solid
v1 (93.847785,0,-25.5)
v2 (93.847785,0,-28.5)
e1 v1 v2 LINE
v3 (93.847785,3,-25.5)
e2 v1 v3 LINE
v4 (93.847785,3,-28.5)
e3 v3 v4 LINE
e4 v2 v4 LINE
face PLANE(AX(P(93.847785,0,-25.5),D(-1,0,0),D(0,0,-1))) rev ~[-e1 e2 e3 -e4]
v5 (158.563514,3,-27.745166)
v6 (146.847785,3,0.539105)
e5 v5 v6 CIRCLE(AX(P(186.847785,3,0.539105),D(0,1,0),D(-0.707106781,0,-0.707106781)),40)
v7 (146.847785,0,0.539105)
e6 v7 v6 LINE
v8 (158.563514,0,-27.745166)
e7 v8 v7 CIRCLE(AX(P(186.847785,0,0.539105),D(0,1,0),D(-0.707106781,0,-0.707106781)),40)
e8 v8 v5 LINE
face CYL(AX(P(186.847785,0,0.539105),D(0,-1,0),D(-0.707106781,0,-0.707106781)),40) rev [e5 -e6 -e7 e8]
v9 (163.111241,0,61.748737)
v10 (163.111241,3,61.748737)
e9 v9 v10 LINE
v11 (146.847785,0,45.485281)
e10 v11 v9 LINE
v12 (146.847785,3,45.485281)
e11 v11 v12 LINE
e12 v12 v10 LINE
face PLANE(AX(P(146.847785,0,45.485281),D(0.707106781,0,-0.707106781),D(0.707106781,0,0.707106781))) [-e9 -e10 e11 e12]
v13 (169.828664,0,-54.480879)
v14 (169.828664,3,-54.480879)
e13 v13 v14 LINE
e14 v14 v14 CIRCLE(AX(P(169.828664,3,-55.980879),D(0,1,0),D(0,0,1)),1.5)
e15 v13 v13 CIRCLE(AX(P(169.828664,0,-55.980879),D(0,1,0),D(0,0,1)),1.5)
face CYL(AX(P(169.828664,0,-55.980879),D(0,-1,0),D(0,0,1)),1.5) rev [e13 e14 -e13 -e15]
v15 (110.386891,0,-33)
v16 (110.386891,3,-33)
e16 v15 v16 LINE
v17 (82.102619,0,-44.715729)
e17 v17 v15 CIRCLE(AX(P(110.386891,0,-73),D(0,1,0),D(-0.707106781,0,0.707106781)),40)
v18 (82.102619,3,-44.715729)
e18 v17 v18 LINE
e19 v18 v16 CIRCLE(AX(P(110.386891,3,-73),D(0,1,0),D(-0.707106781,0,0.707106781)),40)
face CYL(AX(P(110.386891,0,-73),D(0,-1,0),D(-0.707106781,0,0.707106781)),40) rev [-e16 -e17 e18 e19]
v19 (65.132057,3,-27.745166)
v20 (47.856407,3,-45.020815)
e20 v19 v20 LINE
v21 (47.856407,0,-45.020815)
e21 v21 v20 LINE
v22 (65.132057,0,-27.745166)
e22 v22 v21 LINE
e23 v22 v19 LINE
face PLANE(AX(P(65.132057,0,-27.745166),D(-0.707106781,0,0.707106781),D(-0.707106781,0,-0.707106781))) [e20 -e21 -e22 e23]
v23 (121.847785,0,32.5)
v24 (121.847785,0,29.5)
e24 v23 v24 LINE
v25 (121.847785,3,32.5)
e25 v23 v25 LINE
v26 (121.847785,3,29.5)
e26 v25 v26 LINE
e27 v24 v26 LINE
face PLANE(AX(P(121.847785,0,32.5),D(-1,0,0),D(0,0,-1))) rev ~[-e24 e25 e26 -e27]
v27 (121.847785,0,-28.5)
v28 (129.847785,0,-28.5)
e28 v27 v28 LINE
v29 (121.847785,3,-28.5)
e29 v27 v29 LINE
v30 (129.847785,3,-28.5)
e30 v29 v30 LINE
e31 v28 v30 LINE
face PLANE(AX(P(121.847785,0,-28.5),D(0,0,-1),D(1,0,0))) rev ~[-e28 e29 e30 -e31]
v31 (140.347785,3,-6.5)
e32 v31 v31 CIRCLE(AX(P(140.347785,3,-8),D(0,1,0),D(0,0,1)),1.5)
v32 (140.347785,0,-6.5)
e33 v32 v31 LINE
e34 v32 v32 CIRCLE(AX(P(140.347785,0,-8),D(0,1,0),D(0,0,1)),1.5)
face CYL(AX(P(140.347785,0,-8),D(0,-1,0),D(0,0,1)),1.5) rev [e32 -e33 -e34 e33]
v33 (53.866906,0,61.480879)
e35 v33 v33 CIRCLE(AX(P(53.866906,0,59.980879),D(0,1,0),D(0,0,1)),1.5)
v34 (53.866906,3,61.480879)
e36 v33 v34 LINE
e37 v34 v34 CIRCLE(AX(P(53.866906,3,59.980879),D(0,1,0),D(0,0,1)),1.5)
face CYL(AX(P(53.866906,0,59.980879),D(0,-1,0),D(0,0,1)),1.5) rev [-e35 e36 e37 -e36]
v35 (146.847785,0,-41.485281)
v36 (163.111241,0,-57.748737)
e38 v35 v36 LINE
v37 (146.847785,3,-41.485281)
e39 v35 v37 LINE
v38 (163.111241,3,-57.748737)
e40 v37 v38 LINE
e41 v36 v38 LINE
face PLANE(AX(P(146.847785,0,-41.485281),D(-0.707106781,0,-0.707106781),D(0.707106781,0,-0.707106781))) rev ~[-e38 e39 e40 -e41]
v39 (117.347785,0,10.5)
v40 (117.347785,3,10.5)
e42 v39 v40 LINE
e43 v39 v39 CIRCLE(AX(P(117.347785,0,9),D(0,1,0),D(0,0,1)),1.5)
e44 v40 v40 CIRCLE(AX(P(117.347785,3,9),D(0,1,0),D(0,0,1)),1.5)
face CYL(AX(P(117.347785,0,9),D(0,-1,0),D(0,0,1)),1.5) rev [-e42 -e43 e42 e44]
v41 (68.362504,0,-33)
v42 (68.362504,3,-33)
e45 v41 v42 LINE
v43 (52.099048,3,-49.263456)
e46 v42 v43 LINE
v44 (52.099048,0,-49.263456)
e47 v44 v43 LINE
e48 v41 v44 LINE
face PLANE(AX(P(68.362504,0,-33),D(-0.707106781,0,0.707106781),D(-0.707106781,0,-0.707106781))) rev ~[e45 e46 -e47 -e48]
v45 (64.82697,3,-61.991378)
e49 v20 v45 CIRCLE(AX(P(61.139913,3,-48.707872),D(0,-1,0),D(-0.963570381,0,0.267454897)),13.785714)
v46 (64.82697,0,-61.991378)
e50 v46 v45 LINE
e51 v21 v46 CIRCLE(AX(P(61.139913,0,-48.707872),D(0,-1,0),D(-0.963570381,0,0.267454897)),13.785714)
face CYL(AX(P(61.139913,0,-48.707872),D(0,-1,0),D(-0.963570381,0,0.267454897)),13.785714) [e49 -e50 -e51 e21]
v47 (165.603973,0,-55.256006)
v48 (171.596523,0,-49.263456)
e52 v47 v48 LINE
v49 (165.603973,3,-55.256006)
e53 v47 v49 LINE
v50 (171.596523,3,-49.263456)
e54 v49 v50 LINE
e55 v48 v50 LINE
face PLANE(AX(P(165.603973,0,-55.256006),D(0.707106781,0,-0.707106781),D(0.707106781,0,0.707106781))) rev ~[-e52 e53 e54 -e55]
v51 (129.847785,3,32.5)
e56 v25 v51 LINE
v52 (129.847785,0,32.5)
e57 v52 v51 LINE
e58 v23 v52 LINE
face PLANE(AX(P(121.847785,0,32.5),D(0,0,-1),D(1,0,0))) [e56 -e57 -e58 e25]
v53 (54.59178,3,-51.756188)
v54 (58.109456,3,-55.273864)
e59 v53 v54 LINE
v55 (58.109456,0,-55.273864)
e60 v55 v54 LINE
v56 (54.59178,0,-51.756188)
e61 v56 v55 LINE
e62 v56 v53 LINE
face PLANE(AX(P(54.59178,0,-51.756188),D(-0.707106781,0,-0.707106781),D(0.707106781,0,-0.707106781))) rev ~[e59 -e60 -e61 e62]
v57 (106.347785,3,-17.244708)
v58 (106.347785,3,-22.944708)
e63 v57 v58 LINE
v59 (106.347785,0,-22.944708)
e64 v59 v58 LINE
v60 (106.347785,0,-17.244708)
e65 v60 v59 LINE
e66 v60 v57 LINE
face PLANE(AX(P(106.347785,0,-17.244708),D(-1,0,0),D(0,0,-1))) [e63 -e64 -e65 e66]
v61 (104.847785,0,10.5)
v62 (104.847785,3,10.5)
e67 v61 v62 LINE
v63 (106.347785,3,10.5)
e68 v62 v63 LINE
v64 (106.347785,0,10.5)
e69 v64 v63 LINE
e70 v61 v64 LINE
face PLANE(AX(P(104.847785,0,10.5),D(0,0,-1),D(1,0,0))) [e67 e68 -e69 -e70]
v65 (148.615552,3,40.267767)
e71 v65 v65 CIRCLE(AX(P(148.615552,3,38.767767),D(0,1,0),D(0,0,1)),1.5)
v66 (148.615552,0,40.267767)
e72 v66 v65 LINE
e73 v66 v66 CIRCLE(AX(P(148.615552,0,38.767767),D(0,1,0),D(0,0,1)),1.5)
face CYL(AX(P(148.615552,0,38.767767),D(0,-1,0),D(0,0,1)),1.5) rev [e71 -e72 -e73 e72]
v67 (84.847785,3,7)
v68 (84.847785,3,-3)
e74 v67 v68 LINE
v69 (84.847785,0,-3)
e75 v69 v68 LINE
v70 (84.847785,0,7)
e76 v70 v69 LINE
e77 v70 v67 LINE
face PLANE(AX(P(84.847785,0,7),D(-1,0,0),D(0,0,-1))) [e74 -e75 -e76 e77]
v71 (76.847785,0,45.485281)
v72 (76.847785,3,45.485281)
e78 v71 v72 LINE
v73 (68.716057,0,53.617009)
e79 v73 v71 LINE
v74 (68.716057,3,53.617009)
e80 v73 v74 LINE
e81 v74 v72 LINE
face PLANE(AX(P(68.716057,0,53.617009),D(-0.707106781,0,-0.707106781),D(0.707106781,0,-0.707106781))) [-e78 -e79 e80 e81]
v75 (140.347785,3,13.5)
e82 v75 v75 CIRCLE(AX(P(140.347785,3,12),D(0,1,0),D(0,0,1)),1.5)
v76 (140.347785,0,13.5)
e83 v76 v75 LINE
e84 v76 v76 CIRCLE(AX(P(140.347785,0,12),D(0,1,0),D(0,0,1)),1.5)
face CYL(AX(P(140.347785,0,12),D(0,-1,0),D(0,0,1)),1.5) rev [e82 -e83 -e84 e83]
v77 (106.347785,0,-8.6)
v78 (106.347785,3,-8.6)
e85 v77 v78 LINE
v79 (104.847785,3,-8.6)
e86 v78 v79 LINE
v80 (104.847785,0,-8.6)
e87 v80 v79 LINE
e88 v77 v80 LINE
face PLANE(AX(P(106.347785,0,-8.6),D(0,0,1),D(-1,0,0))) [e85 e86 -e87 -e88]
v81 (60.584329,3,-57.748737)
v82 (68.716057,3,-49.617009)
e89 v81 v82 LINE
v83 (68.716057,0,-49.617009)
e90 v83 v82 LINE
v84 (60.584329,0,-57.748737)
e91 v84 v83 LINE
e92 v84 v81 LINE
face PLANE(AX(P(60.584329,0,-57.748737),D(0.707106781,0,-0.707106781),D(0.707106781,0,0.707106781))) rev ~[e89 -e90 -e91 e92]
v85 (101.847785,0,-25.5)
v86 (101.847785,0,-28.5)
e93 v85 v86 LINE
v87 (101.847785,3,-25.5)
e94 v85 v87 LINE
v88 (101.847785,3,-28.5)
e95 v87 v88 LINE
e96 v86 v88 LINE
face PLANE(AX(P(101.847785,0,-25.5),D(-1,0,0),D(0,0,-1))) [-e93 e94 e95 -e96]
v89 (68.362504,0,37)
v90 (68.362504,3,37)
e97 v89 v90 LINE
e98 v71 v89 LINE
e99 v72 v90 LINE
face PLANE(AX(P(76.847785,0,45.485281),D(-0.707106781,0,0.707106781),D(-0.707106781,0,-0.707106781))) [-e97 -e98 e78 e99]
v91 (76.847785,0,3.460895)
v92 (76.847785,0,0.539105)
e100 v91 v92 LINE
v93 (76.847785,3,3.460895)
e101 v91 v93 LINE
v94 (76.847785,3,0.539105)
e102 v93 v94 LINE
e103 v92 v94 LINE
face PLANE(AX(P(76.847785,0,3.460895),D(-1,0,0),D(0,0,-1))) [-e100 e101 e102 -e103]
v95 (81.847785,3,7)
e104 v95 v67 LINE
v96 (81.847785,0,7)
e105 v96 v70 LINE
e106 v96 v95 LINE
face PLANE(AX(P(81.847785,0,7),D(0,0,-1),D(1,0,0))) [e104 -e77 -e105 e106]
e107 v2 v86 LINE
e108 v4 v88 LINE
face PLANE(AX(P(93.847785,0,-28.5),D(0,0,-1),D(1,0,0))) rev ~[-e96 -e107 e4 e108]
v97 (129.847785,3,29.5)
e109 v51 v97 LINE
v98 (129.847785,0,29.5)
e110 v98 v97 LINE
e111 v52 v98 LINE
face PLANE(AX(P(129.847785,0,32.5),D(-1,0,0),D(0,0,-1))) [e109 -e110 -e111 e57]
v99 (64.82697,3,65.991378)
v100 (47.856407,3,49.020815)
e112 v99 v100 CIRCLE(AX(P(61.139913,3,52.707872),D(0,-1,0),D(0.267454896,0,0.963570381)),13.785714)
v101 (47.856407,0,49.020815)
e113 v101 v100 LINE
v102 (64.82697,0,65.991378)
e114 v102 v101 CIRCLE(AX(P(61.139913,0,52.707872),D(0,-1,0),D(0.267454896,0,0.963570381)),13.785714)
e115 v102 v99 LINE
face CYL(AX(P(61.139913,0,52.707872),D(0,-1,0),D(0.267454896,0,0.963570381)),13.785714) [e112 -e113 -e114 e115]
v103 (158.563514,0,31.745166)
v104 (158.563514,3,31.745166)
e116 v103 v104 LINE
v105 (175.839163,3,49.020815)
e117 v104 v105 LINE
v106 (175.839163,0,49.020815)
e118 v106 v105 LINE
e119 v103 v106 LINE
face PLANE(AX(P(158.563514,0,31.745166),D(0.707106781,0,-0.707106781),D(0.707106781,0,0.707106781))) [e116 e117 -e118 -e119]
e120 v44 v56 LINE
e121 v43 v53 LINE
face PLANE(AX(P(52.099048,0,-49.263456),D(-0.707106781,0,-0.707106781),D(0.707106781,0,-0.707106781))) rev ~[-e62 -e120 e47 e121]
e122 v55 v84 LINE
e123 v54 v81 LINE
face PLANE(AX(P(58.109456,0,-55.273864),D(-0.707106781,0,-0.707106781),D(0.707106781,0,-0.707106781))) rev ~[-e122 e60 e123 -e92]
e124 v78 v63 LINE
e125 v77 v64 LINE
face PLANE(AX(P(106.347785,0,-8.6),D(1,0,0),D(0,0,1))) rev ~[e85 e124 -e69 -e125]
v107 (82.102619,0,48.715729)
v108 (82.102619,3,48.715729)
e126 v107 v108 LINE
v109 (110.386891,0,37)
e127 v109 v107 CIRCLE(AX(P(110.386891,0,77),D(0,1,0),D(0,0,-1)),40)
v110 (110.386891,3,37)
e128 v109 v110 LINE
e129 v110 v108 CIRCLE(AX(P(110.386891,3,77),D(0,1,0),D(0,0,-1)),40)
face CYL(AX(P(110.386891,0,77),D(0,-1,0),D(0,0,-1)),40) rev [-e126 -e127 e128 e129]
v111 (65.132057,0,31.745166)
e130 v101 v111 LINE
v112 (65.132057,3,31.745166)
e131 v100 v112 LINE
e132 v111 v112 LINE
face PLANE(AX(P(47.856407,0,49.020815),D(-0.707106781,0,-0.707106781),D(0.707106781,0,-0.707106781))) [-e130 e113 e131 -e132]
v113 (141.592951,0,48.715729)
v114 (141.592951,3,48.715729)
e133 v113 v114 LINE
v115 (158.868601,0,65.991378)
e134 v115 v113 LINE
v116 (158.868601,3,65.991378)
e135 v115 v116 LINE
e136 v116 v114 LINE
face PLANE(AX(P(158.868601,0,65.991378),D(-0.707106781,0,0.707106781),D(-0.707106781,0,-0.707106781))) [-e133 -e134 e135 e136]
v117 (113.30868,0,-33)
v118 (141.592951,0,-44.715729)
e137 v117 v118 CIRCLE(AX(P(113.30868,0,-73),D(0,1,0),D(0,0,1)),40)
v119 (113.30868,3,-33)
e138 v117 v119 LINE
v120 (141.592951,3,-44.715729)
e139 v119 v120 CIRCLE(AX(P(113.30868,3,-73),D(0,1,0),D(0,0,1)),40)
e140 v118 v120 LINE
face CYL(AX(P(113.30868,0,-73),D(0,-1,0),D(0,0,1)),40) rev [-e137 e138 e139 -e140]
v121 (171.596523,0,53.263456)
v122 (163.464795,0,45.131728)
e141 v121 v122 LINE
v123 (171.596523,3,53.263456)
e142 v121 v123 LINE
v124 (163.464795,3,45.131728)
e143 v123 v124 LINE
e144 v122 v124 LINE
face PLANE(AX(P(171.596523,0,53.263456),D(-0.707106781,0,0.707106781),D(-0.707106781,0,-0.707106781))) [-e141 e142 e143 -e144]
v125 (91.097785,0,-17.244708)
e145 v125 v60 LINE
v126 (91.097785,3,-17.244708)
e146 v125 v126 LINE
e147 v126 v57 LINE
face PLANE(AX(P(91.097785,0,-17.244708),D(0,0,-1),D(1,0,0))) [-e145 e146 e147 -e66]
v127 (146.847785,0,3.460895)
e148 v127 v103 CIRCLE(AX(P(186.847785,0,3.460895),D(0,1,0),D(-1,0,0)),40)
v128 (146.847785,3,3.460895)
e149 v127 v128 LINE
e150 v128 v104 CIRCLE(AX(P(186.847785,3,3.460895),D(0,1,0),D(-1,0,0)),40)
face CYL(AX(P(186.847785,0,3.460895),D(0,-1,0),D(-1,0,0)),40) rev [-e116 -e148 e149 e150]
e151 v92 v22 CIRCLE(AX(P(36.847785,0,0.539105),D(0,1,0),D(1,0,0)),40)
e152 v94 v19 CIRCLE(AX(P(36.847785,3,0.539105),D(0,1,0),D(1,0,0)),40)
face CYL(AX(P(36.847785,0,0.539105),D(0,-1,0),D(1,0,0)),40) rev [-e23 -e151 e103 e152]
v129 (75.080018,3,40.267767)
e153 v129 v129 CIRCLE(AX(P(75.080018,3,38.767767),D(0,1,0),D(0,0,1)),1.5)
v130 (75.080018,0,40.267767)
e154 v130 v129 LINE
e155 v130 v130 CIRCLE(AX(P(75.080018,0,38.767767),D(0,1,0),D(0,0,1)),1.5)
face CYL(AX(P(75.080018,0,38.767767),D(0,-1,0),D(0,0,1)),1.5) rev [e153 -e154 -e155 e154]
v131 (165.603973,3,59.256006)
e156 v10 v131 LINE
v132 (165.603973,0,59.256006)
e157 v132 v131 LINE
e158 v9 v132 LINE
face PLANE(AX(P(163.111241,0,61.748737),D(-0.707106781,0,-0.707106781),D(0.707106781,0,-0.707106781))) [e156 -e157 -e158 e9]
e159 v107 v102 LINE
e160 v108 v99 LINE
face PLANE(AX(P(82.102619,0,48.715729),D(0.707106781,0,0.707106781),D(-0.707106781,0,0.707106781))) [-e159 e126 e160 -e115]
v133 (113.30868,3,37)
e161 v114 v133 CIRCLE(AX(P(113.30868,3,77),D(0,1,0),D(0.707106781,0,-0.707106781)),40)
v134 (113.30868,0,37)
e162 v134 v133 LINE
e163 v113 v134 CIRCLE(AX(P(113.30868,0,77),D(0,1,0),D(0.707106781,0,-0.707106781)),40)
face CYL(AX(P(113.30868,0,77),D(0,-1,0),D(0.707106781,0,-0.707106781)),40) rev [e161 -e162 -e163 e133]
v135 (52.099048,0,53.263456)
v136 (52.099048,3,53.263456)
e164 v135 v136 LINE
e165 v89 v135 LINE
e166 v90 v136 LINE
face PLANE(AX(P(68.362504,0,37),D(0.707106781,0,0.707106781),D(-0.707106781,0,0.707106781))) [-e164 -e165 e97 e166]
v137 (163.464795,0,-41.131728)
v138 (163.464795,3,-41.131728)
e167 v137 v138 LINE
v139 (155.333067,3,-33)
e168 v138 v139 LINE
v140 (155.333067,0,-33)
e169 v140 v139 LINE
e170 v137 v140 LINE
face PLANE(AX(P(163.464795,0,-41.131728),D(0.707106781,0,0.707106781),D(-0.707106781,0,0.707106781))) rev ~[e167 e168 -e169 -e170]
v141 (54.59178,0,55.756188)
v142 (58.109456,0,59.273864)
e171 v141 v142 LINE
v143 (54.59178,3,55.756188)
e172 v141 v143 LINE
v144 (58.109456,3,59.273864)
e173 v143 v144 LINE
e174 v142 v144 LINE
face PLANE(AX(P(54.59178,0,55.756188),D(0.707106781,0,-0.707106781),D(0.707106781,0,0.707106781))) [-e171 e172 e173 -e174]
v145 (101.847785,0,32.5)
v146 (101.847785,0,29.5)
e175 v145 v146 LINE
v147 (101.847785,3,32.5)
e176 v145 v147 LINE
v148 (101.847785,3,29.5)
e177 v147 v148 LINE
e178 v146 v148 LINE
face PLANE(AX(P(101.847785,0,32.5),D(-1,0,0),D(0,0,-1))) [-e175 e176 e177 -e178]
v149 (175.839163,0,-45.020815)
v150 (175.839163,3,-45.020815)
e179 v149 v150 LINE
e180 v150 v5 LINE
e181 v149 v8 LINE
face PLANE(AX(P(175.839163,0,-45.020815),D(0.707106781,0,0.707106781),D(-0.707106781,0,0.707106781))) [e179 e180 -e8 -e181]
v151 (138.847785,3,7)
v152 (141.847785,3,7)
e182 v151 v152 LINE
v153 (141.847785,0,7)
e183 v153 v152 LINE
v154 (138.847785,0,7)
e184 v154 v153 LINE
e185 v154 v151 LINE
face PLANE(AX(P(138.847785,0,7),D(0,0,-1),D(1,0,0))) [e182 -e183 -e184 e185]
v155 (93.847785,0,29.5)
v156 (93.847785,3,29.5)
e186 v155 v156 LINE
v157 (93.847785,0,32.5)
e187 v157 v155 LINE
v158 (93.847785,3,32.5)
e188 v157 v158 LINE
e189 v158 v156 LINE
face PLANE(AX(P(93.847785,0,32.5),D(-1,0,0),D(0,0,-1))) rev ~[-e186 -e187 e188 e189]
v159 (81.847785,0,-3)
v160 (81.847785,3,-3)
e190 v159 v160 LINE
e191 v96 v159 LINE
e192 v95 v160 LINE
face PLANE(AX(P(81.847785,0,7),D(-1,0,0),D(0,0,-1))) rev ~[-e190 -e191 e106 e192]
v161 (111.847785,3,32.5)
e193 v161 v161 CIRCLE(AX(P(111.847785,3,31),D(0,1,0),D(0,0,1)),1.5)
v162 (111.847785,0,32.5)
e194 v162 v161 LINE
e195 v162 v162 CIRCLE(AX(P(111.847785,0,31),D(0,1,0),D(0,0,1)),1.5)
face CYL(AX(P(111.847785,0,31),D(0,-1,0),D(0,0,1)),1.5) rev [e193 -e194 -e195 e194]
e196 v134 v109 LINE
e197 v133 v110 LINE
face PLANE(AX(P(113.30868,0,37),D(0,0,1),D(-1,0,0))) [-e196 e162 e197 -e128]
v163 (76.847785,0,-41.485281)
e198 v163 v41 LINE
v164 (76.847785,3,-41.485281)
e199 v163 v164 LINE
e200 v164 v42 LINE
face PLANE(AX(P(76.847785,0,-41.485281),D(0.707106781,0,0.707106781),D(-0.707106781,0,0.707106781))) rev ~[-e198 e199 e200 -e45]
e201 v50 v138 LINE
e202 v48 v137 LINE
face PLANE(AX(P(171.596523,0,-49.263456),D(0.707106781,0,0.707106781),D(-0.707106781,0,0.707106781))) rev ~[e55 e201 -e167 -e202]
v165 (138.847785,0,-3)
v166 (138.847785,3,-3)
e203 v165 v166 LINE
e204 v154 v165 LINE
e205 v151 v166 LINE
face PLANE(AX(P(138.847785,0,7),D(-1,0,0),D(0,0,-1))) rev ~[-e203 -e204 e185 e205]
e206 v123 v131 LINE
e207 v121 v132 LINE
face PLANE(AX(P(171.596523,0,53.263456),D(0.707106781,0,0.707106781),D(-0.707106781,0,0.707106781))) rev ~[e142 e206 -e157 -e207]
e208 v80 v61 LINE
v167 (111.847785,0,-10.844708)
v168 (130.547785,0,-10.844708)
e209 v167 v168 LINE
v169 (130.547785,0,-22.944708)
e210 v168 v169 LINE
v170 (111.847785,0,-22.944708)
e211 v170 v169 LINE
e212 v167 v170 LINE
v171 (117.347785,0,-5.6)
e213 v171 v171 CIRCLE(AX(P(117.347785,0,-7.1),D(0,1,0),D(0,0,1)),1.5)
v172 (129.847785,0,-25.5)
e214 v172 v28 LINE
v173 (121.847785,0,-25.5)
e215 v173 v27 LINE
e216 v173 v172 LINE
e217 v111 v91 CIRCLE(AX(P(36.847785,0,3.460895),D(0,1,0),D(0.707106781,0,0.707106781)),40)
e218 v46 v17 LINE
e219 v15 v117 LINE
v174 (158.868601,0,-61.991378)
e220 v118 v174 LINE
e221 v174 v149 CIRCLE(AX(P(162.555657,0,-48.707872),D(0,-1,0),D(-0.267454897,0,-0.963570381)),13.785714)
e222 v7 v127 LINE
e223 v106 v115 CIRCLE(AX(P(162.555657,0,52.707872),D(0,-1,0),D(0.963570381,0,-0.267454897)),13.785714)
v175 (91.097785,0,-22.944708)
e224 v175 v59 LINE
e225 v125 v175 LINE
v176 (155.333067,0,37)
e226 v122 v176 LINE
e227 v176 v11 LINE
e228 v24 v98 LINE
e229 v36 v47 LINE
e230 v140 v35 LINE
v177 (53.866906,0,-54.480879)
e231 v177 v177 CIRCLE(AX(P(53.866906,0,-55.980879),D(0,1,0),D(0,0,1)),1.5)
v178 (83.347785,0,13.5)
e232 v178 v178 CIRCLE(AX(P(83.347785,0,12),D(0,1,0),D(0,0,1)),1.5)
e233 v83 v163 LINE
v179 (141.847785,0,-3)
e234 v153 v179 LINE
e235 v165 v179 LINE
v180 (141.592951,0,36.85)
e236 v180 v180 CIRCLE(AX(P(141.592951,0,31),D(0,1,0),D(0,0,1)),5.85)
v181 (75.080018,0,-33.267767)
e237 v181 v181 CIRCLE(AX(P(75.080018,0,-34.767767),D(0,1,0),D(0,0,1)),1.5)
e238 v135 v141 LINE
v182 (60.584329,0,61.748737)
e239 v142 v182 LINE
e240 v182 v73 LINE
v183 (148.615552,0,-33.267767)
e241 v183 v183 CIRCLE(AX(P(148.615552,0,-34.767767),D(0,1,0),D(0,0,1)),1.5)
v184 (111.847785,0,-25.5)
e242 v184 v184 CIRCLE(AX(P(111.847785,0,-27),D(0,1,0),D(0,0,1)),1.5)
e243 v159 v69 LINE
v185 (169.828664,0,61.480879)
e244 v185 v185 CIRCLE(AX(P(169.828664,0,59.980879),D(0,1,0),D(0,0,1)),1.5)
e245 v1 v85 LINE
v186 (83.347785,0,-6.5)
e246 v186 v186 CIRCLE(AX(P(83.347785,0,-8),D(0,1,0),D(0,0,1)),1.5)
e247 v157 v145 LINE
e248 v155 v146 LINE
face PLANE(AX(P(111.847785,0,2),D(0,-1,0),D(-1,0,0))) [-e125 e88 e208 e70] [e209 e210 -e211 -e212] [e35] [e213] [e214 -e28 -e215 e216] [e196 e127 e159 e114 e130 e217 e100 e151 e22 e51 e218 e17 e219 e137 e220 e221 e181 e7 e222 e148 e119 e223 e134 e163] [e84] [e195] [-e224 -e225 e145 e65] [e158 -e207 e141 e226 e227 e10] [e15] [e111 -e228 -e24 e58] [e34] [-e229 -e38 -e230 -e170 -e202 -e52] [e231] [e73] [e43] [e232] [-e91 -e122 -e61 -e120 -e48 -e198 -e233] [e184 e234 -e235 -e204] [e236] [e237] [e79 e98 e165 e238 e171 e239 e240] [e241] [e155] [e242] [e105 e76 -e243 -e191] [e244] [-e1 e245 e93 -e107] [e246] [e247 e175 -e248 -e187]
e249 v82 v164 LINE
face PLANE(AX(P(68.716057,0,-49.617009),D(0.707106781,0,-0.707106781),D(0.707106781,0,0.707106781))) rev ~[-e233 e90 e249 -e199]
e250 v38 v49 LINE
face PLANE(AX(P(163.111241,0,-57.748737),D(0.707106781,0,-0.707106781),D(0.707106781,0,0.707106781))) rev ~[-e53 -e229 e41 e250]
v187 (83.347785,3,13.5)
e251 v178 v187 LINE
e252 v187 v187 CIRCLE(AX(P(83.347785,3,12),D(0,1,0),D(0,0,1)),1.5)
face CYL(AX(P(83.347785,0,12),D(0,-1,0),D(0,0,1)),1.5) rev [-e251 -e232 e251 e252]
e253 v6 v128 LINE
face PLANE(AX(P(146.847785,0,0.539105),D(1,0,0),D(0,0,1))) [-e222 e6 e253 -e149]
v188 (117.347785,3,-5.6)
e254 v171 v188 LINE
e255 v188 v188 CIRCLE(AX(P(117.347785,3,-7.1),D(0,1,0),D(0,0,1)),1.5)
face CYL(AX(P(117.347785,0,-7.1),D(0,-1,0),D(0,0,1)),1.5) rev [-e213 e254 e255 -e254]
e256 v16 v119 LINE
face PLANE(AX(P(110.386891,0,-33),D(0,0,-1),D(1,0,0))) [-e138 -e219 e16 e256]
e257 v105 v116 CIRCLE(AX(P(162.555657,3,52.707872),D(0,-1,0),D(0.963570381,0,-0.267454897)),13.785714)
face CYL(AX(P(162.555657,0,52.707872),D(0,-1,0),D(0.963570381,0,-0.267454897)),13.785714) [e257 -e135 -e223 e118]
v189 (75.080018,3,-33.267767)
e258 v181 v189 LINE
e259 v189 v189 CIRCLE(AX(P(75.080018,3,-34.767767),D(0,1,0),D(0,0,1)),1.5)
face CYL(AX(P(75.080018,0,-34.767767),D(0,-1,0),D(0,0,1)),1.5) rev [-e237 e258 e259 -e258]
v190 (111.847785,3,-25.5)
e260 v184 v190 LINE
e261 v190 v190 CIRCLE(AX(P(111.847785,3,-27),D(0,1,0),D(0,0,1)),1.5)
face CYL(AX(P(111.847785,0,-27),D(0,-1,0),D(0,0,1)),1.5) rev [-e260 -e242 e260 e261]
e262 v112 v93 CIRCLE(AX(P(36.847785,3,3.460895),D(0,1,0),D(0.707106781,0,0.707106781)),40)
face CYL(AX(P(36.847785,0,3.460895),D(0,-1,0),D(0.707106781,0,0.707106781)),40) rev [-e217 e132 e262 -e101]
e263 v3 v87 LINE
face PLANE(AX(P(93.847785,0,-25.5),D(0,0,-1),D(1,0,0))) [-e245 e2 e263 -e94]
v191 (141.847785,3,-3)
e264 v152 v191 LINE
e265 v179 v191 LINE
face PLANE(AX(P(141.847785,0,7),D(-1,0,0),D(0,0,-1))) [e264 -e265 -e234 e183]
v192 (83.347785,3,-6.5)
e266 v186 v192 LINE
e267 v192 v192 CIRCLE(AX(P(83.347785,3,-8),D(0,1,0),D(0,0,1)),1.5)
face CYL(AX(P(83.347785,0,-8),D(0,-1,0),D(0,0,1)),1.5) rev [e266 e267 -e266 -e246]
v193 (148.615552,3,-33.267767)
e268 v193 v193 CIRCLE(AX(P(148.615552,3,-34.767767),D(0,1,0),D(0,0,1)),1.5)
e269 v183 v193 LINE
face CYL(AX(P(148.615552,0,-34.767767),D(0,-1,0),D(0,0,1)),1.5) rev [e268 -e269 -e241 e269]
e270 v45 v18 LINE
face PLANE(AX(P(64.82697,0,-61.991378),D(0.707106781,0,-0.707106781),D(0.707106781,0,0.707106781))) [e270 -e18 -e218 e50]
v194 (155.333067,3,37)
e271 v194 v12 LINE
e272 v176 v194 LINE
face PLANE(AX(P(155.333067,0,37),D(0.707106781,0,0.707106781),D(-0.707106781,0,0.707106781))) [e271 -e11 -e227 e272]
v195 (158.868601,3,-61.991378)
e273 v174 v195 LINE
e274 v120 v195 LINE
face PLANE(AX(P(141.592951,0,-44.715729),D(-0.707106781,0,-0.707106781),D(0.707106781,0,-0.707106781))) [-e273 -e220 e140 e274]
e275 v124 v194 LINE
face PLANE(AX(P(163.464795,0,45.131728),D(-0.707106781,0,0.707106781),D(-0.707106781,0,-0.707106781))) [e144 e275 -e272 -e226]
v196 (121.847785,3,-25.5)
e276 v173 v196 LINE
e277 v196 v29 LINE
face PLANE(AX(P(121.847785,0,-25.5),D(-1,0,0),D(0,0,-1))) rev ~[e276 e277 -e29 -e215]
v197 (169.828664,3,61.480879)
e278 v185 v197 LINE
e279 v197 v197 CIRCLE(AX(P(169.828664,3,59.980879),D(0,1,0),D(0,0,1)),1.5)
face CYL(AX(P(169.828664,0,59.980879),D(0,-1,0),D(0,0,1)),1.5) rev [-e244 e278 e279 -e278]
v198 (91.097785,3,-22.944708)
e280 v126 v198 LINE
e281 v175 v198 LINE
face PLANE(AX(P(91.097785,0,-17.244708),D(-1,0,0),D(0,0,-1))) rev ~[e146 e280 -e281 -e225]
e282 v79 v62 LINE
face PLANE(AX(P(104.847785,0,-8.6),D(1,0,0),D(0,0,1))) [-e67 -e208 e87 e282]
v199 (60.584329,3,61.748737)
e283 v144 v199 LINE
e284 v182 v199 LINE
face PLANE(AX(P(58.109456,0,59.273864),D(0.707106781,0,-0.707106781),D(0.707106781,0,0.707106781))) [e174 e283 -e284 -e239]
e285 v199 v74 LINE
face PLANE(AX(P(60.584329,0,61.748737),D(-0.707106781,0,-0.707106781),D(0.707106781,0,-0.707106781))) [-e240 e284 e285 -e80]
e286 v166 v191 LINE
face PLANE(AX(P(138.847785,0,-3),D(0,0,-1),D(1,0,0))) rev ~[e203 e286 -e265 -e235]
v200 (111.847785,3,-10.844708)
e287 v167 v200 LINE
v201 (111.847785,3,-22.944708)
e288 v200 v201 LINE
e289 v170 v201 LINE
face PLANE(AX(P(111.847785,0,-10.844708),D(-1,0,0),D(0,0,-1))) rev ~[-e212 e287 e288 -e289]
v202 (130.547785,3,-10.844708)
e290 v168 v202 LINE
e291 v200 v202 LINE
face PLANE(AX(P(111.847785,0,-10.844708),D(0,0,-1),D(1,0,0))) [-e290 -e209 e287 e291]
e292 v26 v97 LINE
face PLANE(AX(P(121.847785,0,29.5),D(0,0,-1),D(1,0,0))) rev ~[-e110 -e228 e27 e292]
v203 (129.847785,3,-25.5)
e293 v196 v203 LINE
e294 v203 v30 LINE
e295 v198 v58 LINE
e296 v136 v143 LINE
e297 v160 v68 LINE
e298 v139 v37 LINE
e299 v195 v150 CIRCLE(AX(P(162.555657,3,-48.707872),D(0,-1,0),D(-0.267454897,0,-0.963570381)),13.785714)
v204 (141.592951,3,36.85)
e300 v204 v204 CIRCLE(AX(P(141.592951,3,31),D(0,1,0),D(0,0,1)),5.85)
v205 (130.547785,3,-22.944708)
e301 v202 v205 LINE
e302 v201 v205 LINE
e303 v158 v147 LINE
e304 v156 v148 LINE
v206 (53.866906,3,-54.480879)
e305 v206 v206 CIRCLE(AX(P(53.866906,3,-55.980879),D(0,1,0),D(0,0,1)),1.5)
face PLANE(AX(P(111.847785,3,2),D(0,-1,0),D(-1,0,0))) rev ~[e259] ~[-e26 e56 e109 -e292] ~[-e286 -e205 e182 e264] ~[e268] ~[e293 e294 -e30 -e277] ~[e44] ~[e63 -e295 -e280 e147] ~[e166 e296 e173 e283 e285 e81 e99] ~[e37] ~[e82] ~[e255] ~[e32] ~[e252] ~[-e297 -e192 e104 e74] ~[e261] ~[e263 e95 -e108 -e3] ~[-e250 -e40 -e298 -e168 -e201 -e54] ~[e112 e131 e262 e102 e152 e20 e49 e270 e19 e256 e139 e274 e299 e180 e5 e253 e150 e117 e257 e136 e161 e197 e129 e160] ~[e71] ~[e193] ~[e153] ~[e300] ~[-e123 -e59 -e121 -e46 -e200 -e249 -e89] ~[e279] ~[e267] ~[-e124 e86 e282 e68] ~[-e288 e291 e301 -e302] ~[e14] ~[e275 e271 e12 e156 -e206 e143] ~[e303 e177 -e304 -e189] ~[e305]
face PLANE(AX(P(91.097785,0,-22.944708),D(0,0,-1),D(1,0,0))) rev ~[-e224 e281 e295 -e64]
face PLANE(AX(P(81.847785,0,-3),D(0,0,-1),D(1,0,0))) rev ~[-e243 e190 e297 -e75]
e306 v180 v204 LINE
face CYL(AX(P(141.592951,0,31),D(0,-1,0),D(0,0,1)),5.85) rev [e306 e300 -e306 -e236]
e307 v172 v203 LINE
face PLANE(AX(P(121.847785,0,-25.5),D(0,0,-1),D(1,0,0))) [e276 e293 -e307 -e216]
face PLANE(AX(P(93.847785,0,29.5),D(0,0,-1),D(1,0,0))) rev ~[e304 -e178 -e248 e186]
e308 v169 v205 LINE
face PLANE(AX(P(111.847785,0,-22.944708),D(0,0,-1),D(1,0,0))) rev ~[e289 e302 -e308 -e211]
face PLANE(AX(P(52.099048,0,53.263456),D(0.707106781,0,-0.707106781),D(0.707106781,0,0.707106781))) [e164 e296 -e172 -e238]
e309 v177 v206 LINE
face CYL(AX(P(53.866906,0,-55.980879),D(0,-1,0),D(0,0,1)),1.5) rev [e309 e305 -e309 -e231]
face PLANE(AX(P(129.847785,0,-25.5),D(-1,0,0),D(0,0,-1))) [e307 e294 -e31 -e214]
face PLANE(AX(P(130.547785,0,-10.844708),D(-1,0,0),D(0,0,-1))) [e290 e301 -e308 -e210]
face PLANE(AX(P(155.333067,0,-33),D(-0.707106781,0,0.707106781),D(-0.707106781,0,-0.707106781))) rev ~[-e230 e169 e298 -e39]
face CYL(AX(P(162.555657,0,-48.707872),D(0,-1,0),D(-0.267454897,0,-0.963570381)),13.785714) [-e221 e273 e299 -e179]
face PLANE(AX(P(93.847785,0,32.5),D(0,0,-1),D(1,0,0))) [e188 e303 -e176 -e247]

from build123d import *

# Parameters (mm, degrees)
ESBO_O1_R                = 1.5
ESBO_O1_R_2              = 5.85
ESBO_O1_W                = 3
ESBO_O1_H                = 10
ESBO_O1_W_2              = 8
ESBO_O1_H_2              = 3
ESBO_O1_W_3              = 15.25
ESBO_O1_H_3              = 5.7
ESBO_O1_W_4              = 18.7
ESBO_O1_H_4              = 12.1
RESSALTO_EXTRUS_O1_DEPTH = 3


with BuildPart() as part:
    # Esboço1 → Ressalto-extrusão1 (new body)
    with BuildSketch(Plane(origin=(0, 0, 0), x_dir=(1, 0, 0), z_dir=(0, 1, 0))):
        with BuildLine():
            Line((110.386890532, 33), (113.308680045, 33))
            ThreePointArc((113.308680045, 33), (128.61601734, 36.0448187), (141.592951292, 44.715728753))
            Line((141.592951292, 44.715728753), (158.868600568, 61.991378029))
            ThreePointArc((158.868600568, 61.991378029), (172.303629411, 58.455844123), (175.839163317, 45.02081528))
            Line((175.839163317, 45.02081528), (158.563514041, 27.745166004))
            ThreePointArc((158.563514041, 27.745166004), (149.892603988, 14.768232051), (146.847785288, -0.539105243))
            Line((146.847785288, -0.539105243), (146.847785288, -3.460894757))
            ThreePointArc((146.847785288, -3.460894757), (149.892603988, -18.768232051), (158.563514041, -31.745166004))
            Line((158.563514041, -31.745166004), (175.839163317, -49.02081528))
            ThreePointArc((175.839163317, -49.02081528), (172.303629411, -62.455844123), (158.868600568, -65.991378029))
            Line((158.868600568, -65.991378029), (141.592951292, -48.715728753))
            ThreePointArc((141.592951292, -48.715728753), (128.61601734, -40.0448187), (113.308680045, -37))
            Line((113.308680045, -37), (110.386890532, -37))
            ThreePointArc((110.386890532, -37), (95.079553237, -40.0448187), (82.102619284, -48.715728753))
            Line((82.102619284, -48.715728753), (64.826970008, -65.991378029))
            ThreePointArc((64.826970008, -65.991378029), (51.391941166, -62.455844123), (47.85640726, -49.02081528))
            Line((47.85640726, -49.02081528), (65.132056536, -31.745166004))
            ThreePointArc((65.132056536, -31.745166004), (73.802966589, -18.768232051), (76.847785288, -3.460894757))
            Line((76.847785288, -3.460894757), (76.847785288, -0.539105243))
            ThreePointArc((76.847785288, -0.539105243), (73.802966589, 14.768232051), (65.132056536, 27.745166004))
            Line((65.132056536, 27.745166004), (47.85640726, 45.02081528))
            ThreePointArc((47.85640726, 45.02081528), (51.391941166, 58.455844123), (64.826970008, 61.991378029))
            Line((64.826970008, 61.991378029), (82.102619284, 44.715728753))
            ThreePointArc((82.102619284, 44.715728753), (95.079553237, 36.0448187), (110.386890532, 33))
        make_face()
        with Locations(Location((111.847785288, 27, 0), (0, 0, 270))):
            Circle(ESBO_O1_R, mode=Mode.SUBTRACT)
        with Locations(Location((111.847785288, -31, 0), (0, 0, 270))):
            Circle(ESBO_O1_R, mode=Mode.SUBTRACT)
        with Locations(Location((169.828664477, -59.980879188, 0), (0, 0, 270))):
            Circle(ESBO_O1_R, mode=Mode.SUBTRACT)
        with Locations(Location((148.615552241, -38.767766953, 0), (0, 0, 270))):
            Circle(ESBO_O1_R, mode=Mode.SUBTRACT)
        with Locations(Location((148.615552241, 34.767766953, 0), (0, 0, 270))):
            Circle(ESBO_O1_R, mode=Mode.SUBTRACT)
        with Locations(Location((169.828664477, 55.980879188, 0), (0, 0, 270))):
            Circle(ESBO_O1_R, mode=Mode.SUBTRACT)
        with Locations(Location((75.080018335, 34.767766953, 0), (0, 0, 270))):
            Circle(ESBO_O1_R, mode=Mode.SUBTRACT)
        with Locations(Location((53.8669061, 55.980879188, 0), (0, 0, 270))):
            Circle(ESBO_O1_R, mode=Mode.SUBTRACT)
        with Locations(Location((117.347785288, 7.1, 0), (0, 0, 270))):
            Circle(ESBO_O1_R, mode=Mode.SUBTRACT)
        with Locations(Location((53.8669061, -59.980879188, 0), (0, 0, 270))):
            Circle(ESBO_O1_R, mode=Mode.SUBTRACT)
        with Locations(Location((75.080018335, -38.767766953, 0), (0, 0, 270))):
            Circle(ESBO_O1_R, mode=Mode.SUBTRACT)
        with Locations(Location((117.347785288, -9, 0), (0, 0, 270))):
            Circle(ESBO_O1_R, mode=Mode.SUBTRACT)
        with Locations(Location((83.347785288, 8, 0), (0, 0, 270))):
            Circle(ESBO_O1_R, mode=Mode.SUBTRACT)
        with Locations(Location((83.347785288, -12, 0), (0, 0, 270))):
            Circle(ESBO_O1_R, mode=Mode.SUBTRACT)
        with Locations(Location((140.347785288, 8, 0), (0, 0, 270))):
            Circle(ESBO_O1_R, mode=Mode.SUBTRACT)
        with Locations(Location((140.347785288, -12, 0), (0, 0, 270))):
            Circle(ESBO_O1_R, mode=Mode.SUBTRACT)
        with Locations(Location((141.592951292, -31, 0), (0, 0, 270))):
            Circle(ESBO_O1_R_2, mode=Mode.SUBTRACT)
        with Locations((83.347785288, -2)):
            Rectangle(ESBO_O1_W, ESBO_O1_H, mode=Mode.SUBTRACT)
        with Locations((125.847785288, -31)):
            Rectangle(ESBO_O1_W_2, ESBO_O1_H_2, mode=Mode.SUBTRACT)
        with Locations((140.347785288, -2)):
            Rectangle(ESBO_O1_W, ESBO_O1_H, mode=Mode.SUBTRACT)
        with Locations((97.847785288, -31)):
            Rectangle(ESBO_O1_W_2, ESBO_O1_H_2, mode=Mode.SUBTRACT)
        with Locations((97.847785288, 27)):
            Rectangle(ESBO_O1_W_2, ESBO_O1_H_2, mode=Mode.SUBTRACT)
        with Locations((98.722785288, 20.094707965)):
            Rectangle(ESBO_O1_W_3, ESBO_O1_H_3, mode=Mode.SUBTRACT)
        with Locations((125.847785288, 27)):
            Rectangle(ESBO_O1_W_2, ESBO_O1_H_2, mode=Mode.SUBTRACT)
        with Locations((121.197785288, 16.894707965)):
            Rectangle(ESBO_O1_W_4, ESBO_O1_H_4, mode=Mode.SUBTRACT)
        Polygon((165.603972833, -59.256005764), (169.121648896, -55.738329701), (171.59652263, -53.263455967), (163.464794646, -45.131727984), (155.333066663, -37), (146.847785288, -45.485281374), (163.111241256, -61.748737342), align=None, mode=Mode.SUBTRACT)
        Polygon((163.464794646, 41.131727984), (155.333066663, 33), (146.847785288, 41.485281374), (163.111241256, 57.748737342), (165.603972833, 55.256005764), (169.121648896, 51.738329701), (171.59652263, 49.263455967), align=None, mode=Mode.SUBTRACT)
        Polygon((104.847785288, 8.6), (104.847785288, -10.5), (106.347785288, -10.5), (106.347785288, 7.873666298), (106.347785288, 8.6), align=None, mode=Mode.SUBTRACT)
        Polygon((68.716057305, 49.617009358), (76.847785288, 41.485281374), (68.362503914, 33), (52.099047947, 49.263455967), (54.591779524, 51.756187545), (58.109455587, 55.273863607), (60.584329321, 57.748737342), align=None, mode=Mode.SUBTRACT)
        Polygon((54.591779524, -55.756187545), (58.109455587, -59.273863607), (60.584329321, -61.748737342), (68.716057305, -53.617009358), (76.847785288, -45.485281374), (68.362503914, -37), (52.099047947, -53.263455967), align=None, mode=Mode.SUBTRACT)
    extrude(amount=RESSALTO_EXTRUS_O1_DEPTH)


solid = part.part
